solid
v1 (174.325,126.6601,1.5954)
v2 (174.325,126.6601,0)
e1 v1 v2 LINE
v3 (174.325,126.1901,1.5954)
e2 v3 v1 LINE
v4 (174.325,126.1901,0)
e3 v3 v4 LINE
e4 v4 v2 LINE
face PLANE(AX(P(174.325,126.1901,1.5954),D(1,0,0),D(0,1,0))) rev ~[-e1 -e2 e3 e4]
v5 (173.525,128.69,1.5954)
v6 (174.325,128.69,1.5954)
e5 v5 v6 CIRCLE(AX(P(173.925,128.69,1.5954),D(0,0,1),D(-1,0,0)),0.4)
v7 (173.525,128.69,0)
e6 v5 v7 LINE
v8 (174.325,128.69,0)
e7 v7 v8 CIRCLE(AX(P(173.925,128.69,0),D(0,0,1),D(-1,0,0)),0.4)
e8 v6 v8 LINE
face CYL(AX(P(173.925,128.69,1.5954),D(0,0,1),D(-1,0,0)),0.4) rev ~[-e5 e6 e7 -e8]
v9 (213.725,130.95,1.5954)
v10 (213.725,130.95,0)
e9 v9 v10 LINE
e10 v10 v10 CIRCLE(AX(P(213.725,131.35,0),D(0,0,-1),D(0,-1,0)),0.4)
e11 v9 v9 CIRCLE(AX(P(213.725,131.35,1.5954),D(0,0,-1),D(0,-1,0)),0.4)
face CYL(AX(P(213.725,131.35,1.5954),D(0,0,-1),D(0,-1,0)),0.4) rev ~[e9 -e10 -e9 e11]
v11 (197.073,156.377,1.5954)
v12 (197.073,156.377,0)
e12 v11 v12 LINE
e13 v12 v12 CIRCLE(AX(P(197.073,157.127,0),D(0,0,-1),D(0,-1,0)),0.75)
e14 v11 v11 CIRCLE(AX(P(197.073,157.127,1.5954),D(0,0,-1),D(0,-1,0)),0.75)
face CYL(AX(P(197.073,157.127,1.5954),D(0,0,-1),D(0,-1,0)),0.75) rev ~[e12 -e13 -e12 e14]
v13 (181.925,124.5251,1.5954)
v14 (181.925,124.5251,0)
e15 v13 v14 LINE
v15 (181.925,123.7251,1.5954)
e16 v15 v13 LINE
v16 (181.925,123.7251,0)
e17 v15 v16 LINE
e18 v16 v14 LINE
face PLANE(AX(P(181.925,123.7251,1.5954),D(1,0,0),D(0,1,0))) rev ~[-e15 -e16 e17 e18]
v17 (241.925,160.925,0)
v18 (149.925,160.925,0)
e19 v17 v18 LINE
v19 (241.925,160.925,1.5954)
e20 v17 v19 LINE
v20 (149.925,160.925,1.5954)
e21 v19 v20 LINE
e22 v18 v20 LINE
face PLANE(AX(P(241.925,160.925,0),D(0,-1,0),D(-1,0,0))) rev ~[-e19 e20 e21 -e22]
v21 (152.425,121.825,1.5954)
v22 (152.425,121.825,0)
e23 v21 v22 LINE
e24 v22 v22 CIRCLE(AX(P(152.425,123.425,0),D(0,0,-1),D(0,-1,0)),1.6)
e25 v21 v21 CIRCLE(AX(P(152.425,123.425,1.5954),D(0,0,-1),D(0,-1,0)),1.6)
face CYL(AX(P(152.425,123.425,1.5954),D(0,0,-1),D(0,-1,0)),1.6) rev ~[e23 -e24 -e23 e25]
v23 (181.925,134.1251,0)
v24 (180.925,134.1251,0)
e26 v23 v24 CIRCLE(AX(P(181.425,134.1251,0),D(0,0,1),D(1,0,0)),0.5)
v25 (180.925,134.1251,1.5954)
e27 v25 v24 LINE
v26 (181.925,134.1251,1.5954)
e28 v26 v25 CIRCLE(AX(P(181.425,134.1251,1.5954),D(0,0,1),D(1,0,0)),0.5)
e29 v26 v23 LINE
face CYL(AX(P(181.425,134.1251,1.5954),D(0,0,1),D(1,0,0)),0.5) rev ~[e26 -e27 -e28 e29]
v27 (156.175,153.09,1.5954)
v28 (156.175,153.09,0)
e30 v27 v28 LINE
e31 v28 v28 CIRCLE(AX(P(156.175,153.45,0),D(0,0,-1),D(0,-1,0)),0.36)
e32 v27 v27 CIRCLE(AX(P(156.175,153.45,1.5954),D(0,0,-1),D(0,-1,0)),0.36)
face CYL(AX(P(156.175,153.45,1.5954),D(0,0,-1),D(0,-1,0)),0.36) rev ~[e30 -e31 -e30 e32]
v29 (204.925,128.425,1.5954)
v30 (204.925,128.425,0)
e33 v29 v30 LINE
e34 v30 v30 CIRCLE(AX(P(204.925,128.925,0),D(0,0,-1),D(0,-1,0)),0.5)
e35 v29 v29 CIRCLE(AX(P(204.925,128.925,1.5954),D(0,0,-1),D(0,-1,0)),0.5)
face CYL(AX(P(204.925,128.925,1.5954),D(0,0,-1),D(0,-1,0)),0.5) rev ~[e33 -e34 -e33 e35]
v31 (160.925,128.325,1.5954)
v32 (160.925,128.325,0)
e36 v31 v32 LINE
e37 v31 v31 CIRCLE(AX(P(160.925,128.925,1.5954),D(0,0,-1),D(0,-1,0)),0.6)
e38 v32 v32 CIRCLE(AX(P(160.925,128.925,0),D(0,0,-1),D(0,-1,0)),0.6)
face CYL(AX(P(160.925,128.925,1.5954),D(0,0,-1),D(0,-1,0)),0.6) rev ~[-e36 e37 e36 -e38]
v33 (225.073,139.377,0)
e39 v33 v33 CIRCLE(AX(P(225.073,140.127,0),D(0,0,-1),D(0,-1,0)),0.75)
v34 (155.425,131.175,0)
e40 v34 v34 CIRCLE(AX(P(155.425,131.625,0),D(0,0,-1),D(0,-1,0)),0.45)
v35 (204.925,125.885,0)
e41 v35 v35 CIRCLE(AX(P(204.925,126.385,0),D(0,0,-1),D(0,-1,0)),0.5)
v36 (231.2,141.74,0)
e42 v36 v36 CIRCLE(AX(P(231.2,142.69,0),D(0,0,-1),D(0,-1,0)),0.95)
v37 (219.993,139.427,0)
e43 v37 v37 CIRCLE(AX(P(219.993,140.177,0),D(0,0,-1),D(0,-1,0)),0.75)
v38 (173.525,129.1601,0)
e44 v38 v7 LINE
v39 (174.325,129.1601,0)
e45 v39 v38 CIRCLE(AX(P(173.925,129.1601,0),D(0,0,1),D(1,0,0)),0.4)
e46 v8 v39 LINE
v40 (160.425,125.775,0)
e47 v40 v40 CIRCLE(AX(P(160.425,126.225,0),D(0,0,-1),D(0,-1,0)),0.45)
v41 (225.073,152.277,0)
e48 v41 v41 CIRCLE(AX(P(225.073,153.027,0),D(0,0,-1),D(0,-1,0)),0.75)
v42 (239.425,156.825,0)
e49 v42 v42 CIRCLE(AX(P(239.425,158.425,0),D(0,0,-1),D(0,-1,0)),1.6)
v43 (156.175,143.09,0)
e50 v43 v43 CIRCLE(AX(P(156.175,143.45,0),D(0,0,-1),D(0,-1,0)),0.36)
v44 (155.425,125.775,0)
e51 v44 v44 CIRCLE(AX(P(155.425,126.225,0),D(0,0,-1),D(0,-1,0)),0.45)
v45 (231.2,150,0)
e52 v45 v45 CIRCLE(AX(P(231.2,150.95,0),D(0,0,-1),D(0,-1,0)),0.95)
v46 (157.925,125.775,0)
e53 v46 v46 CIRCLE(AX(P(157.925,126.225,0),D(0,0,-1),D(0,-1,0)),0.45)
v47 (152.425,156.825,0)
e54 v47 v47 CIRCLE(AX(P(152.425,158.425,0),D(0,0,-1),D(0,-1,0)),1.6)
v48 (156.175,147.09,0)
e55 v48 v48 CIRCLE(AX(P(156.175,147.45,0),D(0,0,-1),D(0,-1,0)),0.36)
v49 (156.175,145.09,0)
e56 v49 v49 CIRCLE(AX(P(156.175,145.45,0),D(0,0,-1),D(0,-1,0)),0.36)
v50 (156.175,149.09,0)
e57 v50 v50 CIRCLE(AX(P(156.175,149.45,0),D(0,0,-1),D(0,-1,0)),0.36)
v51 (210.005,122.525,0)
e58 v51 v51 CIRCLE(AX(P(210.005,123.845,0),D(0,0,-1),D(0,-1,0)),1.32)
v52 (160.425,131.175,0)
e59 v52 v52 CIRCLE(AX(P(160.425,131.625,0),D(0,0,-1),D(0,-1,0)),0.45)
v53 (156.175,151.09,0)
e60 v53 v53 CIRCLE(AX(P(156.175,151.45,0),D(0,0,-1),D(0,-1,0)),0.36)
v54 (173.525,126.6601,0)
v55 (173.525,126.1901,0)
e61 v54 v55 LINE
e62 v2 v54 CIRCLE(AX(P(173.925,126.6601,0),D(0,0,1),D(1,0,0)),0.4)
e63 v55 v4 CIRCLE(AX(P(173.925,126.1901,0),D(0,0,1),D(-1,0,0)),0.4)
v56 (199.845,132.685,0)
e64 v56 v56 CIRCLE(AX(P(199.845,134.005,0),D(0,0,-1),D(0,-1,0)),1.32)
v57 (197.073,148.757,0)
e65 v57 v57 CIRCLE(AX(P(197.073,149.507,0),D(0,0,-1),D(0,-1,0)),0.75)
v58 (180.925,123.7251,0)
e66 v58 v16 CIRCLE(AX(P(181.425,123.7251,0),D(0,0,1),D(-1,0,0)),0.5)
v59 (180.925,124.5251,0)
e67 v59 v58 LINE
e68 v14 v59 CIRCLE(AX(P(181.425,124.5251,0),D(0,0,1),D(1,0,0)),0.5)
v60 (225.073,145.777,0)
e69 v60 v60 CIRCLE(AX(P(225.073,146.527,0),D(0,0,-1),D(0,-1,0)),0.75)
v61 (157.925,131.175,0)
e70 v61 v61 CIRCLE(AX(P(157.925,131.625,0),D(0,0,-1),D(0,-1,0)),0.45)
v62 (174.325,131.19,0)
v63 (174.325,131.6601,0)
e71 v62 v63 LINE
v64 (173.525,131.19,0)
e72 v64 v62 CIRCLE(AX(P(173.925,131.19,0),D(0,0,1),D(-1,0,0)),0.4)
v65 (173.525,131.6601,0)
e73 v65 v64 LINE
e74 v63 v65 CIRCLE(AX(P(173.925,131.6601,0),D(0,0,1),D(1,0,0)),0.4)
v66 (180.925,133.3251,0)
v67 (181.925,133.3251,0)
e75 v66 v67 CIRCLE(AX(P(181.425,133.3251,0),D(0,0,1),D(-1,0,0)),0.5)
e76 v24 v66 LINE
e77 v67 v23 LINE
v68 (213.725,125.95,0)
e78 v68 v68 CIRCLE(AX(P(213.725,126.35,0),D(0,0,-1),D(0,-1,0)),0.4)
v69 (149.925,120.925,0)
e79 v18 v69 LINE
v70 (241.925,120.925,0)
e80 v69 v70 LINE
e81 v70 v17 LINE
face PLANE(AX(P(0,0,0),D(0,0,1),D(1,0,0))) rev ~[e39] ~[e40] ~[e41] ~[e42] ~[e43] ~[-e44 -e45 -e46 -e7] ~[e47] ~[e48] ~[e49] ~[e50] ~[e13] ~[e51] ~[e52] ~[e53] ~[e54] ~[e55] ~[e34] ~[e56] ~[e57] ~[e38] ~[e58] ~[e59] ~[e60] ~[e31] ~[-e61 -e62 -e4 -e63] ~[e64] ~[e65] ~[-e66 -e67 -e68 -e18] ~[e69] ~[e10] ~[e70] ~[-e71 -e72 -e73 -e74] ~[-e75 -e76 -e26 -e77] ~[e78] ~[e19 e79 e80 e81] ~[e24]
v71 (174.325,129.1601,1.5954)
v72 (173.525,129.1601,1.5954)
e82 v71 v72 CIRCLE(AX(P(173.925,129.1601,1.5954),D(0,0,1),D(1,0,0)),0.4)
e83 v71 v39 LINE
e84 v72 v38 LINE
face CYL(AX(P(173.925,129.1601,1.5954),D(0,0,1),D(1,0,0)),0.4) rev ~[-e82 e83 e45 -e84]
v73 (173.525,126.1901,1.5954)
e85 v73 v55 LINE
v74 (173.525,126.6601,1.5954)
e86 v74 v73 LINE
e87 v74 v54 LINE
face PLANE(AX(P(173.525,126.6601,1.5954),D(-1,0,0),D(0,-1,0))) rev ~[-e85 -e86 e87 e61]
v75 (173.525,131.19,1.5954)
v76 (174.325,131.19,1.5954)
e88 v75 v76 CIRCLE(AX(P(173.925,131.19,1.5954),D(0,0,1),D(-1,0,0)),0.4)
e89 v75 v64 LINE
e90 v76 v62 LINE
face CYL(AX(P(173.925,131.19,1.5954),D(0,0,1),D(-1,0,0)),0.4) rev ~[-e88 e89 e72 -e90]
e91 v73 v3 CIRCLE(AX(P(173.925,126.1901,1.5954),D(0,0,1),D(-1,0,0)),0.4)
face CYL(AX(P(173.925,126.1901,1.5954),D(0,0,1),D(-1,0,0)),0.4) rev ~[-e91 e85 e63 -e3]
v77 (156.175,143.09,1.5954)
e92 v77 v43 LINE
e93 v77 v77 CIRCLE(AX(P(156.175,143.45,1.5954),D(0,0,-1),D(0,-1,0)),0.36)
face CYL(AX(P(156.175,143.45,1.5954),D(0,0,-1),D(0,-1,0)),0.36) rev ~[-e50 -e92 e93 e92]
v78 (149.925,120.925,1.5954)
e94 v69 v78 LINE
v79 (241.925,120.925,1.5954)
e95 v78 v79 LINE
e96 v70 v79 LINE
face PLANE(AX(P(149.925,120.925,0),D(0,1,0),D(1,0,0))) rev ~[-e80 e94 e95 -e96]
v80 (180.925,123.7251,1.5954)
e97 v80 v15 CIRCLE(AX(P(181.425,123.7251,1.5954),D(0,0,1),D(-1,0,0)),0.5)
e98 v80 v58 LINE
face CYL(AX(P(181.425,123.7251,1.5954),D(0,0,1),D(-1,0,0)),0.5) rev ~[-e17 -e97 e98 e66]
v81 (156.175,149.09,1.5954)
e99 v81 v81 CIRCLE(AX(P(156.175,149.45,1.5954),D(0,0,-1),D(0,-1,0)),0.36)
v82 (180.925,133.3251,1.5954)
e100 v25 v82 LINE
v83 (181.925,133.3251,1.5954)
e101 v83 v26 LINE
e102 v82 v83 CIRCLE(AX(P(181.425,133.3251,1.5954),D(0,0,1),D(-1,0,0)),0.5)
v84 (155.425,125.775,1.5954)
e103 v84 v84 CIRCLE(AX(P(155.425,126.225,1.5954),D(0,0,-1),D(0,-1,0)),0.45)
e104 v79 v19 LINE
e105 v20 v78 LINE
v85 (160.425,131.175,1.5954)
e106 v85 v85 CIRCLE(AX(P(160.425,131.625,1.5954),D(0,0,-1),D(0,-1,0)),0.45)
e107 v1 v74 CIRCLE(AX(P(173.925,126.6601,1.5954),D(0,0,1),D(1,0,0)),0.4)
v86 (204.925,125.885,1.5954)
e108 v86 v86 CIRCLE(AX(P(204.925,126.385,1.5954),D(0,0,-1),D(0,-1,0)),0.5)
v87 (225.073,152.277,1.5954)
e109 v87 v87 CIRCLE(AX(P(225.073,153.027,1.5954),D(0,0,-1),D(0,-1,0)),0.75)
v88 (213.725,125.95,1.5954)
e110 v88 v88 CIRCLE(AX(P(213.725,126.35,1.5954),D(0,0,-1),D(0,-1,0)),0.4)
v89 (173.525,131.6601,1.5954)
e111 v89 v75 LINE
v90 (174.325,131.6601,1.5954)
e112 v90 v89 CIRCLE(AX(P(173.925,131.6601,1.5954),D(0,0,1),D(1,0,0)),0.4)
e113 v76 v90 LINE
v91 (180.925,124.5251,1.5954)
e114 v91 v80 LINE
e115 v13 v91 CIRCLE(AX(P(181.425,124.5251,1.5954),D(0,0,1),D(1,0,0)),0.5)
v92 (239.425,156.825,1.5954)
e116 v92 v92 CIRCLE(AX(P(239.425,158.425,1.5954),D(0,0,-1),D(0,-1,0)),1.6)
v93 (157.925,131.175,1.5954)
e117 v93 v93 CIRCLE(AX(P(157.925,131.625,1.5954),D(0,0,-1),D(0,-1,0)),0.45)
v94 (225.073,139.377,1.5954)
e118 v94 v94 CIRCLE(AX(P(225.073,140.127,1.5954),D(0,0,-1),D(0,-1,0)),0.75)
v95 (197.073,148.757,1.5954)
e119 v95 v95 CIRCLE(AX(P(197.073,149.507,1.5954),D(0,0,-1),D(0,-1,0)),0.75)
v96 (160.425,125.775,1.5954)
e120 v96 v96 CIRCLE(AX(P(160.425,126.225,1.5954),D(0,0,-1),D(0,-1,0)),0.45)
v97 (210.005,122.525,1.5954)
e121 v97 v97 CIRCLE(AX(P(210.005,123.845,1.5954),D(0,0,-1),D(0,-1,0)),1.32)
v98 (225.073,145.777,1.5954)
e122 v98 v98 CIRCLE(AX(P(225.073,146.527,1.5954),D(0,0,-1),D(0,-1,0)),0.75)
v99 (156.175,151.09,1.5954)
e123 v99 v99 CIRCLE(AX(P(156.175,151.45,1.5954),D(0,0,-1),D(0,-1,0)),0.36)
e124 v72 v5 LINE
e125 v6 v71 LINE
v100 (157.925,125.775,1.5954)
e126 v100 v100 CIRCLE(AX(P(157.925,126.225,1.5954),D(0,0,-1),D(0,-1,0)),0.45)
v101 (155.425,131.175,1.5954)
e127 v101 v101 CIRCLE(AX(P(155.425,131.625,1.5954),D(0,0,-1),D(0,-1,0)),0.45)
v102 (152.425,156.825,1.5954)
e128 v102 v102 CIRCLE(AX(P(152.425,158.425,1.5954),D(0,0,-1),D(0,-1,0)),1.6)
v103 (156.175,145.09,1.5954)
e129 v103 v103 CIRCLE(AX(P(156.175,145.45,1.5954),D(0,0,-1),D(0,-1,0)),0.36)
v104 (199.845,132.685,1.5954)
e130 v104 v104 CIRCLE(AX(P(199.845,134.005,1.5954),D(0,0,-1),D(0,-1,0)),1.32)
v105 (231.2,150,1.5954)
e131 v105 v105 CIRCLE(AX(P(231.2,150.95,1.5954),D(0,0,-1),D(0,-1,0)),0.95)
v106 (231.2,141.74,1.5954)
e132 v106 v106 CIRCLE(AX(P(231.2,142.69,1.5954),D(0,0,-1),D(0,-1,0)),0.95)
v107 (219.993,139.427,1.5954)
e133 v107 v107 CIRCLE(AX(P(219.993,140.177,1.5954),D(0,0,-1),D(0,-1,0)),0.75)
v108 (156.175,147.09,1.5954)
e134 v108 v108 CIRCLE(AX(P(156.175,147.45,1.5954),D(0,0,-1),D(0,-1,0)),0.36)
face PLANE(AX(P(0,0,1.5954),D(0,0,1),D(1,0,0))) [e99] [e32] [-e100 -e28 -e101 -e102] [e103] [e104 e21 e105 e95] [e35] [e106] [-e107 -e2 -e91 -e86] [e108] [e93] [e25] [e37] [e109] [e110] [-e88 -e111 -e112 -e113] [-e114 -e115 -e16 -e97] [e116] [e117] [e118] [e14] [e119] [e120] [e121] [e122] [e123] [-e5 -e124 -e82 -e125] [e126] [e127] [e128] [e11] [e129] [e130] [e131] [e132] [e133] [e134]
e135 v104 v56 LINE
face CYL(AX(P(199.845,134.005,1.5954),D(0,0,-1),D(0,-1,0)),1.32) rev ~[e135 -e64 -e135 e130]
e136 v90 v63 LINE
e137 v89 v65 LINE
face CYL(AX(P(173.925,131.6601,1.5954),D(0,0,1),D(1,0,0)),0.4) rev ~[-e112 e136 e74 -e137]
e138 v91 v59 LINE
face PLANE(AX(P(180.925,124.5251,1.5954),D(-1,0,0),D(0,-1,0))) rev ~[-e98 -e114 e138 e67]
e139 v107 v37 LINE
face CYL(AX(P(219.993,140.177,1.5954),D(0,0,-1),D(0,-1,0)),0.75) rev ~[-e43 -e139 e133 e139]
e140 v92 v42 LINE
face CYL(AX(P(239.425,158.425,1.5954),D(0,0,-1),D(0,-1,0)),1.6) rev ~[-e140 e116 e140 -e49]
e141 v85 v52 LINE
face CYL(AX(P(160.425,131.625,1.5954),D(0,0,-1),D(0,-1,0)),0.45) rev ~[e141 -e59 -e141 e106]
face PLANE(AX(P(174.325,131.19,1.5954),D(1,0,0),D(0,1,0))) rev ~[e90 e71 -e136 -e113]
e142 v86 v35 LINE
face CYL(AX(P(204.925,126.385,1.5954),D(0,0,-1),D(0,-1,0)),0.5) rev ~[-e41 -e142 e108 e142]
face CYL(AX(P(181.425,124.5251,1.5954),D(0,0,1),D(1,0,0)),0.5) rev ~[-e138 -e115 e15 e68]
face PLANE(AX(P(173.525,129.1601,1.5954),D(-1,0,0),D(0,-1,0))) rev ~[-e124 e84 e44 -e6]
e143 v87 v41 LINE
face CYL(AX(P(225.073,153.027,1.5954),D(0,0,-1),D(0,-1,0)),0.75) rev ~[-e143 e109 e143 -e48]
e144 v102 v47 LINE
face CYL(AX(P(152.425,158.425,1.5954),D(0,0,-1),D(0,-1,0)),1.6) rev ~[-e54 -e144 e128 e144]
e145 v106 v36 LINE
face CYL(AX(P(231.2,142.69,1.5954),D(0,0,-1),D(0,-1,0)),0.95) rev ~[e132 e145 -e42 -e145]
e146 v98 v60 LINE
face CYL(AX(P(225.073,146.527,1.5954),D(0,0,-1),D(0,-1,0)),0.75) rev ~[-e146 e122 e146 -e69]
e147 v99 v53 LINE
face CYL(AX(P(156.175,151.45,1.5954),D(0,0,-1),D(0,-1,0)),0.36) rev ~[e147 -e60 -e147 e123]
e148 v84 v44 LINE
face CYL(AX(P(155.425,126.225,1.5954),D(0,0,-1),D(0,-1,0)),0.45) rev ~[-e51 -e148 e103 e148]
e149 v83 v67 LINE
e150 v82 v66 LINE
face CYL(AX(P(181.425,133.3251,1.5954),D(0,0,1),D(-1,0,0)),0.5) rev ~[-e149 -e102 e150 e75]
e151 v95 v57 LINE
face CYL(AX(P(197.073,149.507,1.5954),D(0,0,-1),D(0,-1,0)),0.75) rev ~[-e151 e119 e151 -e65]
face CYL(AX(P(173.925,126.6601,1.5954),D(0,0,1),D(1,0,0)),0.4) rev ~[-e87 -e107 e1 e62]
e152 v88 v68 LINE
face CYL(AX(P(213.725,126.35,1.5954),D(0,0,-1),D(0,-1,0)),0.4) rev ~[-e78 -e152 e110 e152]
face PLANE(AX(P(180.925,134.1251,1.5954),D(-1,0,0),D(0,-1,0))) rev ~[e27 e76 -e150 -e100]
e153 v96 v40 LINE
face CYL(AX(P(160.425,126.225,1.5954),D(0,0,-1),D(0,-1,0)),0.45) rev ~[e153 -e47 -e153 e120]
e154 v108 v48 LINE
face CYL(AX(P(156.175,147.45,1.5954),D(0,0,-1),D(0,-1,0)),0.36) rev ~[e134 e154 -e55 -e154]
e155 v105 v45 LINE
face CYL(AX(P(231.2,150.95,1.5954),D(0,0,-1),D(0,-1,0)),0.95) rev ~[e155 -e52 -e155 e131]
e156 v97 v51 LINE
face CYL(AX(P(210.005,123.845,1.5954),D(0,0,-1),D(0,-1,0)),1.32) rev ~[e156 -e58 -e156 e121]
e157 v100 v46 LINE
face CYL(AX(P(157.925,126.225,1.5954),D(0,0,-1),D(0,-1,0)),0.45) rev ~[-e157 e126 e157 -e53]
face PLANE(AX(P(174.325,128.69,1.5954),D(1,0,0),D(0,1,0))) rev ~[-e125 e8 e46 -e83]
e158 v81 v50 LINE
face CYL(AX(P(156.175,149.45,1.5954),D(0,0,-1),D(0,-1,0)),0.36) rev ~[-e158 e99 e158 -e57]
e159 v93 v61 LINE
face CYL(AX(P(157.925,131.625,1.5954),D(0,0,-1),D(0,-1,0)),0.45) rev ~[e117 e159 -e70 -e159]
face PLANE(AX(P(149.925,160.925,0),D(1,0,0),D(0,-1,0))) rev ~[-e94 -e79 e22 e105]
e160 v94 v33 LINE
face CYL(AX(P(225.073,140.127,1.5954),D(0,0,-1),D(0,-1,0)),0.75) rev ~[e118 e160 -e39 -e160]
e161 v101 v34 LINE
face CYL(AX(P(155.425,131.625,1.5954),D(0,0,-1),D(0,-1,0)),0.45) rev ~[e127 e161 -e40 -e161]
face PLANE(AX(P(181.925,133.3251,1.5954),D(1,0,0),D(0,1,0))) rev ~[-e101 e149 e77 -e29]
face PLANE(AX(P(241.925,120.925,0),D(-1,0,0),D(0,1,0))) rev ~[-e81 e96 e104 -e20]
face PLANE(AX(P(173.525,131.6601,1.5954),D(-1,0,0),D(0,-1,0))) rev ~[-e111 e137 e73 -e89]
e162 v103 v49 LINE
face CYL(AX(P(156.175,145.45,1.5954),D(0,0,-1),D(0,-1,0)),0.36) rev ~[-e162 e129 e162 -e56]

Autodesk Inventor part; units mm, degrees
ref_plane "YZ Plane" through (0, 0, 0) normal (1, 0, 0) x (0, 1, 0)
ref_plane "XZ Plane" through (0, 0, 0) normal (0, 1, 0) x (-1, 0, 0)
ref_plane "BoardFrontPlane" through (0, 0, 0) normal (0, 0, 1) x (1, 0, 0)
sketch "Sketch1" plane through (0, 0, 0) normal (0, 0, 1) x (1, 0, 0)
  line L0 (149.925, 120.925) -> (241.925, 120.925)
  line L1 (241.925, 120.925) -> (241.925, 160.925)
  line L2 (241.925, 160.925) -> (149.925, 160.925)
  line L3 (149.925, 160.925) -> (149.925, 120.925)
extrude "BoardOutline" add sketch "Sketch1" along normal blind 1.5954
sketch "Sketch4" plane through (0, 0, 1.5954) normal (0, 0, 1) x (1, 0, 0)
  point P0 (219.993, 140.177)
hole "U1-1" at (219.993, 140.177, 1.5954) direction (0, 0, -1) diameter 1.5 end through all
sketch "Sketch5" plane through (0, 0, 1.5954) normal (0, 0, 1) x (1, 0, 0)
  point P0 (225.073, 153.027)
hole "U1-4" at (225.073, 153.027, 1.5954) direction (0, 0, -1) diameter 1.5 end through all
sketch "Sketch6" plane through (0, 0, 1.5954) normal (0, 0, 1) x (1, 0, 0)
  point P0 (225.073, 146.527)
hole "U1-3" at (225.073, 146.527, 1.5954) direction (0, 0, -1) diameter 1.5 end through all
sketch "Sketch7" plane through (0, 0, 1.5954) normal (0, 0, 1) x (1, 0, 0)
  point P0 (197.073, 157.127)
hole "U1-5" at (197.073, 157.127, 1.5954) direction (0, 0, -1) diameter 1.5 end through all
sketch "Sketch8" plane through (0, 0, 1.5954) normal (0, 0, 1) x (1, 0, 0)
  point P0 (197.073, 149.507)
hole "U1-6" at (197.073, 149.507, 1.5954) direction (0, 0, -1) diameter 1.5 end through all
sketch "Sketch9" plane through (0, 0, 1.5954) normal (0, 0, 1) x (1, 0, 0)
  point P0 (225.073, 140.127)
hole "U1-2" at (225.073, 140.127, 1.5954) direction (0, 0, -1) diameter 1.5 end through all
sketch "Sketch10" plane through (0, 0, 1.5954) normal (0, 0, 1) x (1, 0, 0)
  point P0 (155.425, 126.225)
hole "SW1-1" at (155.425, 126.225, 1.5954) direction (0, 0, -1) diameter 0.9 end through all
sketch "Sketch11" plane through (0, 0, 1.5954) normal (0, 0, 1) x (1, 0, 0)
  point P0 (157.925, 126.225)
hole "SW1-2" at (157.925, 126.225, 1.5954) direction (0, 0, -1) diameter 0.9 end through all
sketch "Sketch12" plane through (0, 0, 1.5954) normal (0, 0, 1) x (1, 0, 0)
  point P0 (160.425, 126.225)
hole "SW1-3" at (160.425, 126.225, 1.5954) direction (0, 0, -1) diameter 0.9 end through all
sketch "Sketch13" plane through (0, 0, 1.5954) normal (0, 0, 1) x (1, 0, 0)
  point P0 (157.925, 131.625)
hole "SW1-5" at (157.925, 131.625, 1.5954) direction (0, 0, -1) diameter 0.9 end through all
sketch "Sketch14" plane through (0, 0, 1.5954) normal (0, 0, 1) x (1, 0, 0)
  point P0 (160.425, 131.625)
hole "SW1-6" at (160.425, 131.625, 1.5954) direction (0, 0, -1) diameter 0.9 end through all
sketch "Sketch15" plane through (0, 0, 1.5954) normal (0, 0, 1) x (1, 0, 0)
  point P0 (155.425, 131.625)
hole "SW1-4" at (155.425, 131.625, 1.5954) direction (0, 0, -1) diameter 0.9 end through all
sketch "Sketch16" plane through (0, 0, 1.5954) normal (0, 0, 1) x (1, 0, 0)
  point P0 (160.925, 128.925)
hole "SW1-0" at (160.925, 128.925, 1.5954) direction (0, 0, -1) diameter 1.2 end through all
sketch "Sketch22" plane through (0, 0, 1.5954) normal (0, 0, 1) x (1, 0, 0)
  point P0 (156.175, 143.45)
hole "CN2-1" at (156.175, 143.45, 1.5954) direction (0, 0, -1) diameter 0.72 end through all
sketch "Sketch23" plane through (0, 0, 1.5954) normal (0, 0, 1) x (1, 0, 0)
  point P0 (156.175, 149.45)
hole "CN2-4" at (156.175, 149.45, 1.5954) direction (0, 0, -1) diameter 0.72 end through all
sketch "Sketch24" plane through (0, 0, 1.5954) normal (0, 0, 1) x (1, 0, 0)
  point P0 (156.175, 145.45)
hole "CN2-2" at (156.175, 145.45, 1.5954) direction (0, 0, -1) diameter 0.72 end through all
sketch "Sketch25" plane through (0, 0, 1.5954) normal (0, 0, 1) x (1, 0, 0)
  point P0 (156.175, 151.45)
hole "CN2-5" at (156.175, 151.45, 1.5954) direction (0, 0, -1) diameter 0.72 end through all
sketch "Sketch26" plane through (0, 0, 1.5954) normal (0, 0, 1) x (1, 0, 0)
  point P0 (156.175, 147.45)
hole "CN2-3" at (156.175, 147.45, 1.5954) direction (0, 0, -1) diameter 0.72 end through all
sketch "Sketch27" plane through (0, 0, 1.5954) normal (0, 0, 1) x (1, 0, 0)
  point P0 (156.175, 153.45)
hole "CN2-6" at (156.175, 153.45, 1.5954) direction (0, 0, -1) diameter 0.72 end through all
sketch "Sketch28" plane through (0, 0, 1.5954) normal (0, 0, 1) x (1, 0, 0)
  point P0 (231.2, 150.95)
hole "CN1-1" at (231.2, 150.95, 1.5954) direction (0, 0, -1) diameter 1.9 end through all
sketch "Sketch29" plane through (0, 0, 1.5954) normal (0, 0, 1) x (1, 0, 0)
  point P0 (231.2, 142.69)
hole "CN1-2" at (231.2, 142.69, 1.5954) direction (0, 0, -1) diameter 1.9 end through all
sketch "Sketch30" plane through (0, 0, 1.5954) normal (0, 0, 1) x (1, 0, 0)
  point P0 (213.725, 126.35)
hole "C2-1" at (213.725, 126.35, 1.5954) direction (0, 0, -1) diameter 0.8 end through all
sketch "Sketch31" plane through (0, 0, 1.5954) normal (0, 0, 1) x (1, 0, 0)
  point P0 (213.725, 131.35)
hole "C2-2" at (213.725, 131.35, 1.5954) direction (0, 0, -1) diameter 0.8 end through all
sketch "Sketch32" plane through (0, 0, 1.5954) normal (0, 0, 1) x (1, 0, 0)
  point P0 (204.925, 128.925)
hole "CN3-1" at (204.925, 128.925, 1.5954) direction (0, 0, -1) diameter 1 end through all
sketch "Sketch33" plane through (0, 0, 1.5954) normal (0, 0, 1) x (1, 0, 0)
  point P0 (199.845, 134.005)
hole "CN3-2_KIXDPQYP" at (199.845, 134.005, 1.5954) direction (0, 0, -1) diameter 2.64 end through all
sketch "Sketch34" plane through (0, 0, 1.5954) normal (0, 0, 1) x (1, 0, 0)
  point P0 (210.005, 123.845)
hole "CN3-2_CBVBVUTG" at (210.005, 123.845, 1.5954) direction (0, 0, -1) diameter 2.64 end through all
sketch "Sketch35" plane through (0, 0, 1.5954) normal (0, 0, 1) x (1, 0, 0)
  point P0 (204.925, 126.385)
hole "CN3-2_RGICKRHG" at (204.925, 126.385, 1.5954) direction (0, 0, -1) diameter 1 end through all
sketch "Sketch36" plane through (0, 0, 1.5954) normal (0, 0, 1) x (1, 0, 0)
  point P0 (239.425, 158.425)
hole "Free-0_VQVYAAFI" at (239.425, 158.425, 1.5954) direction (0, 0, -1) diameter 3.2 end through all
sketch "Sketch37" plane through (0, 0, 1.5954) normal (0, 0, 1) x (1, 0, 0)
  point P0 (152.425, 123.425)
hole "Free-0_TSXFHYQJ" at (152.425, 123.425, 1.5954) direction (0, 0, -1) diameter 3.2 end through all
sketch "Sketch38" plane through (0, 0, 1.5954) normal (0, 0, 1) x (1, 0, 0)
  point P0 (152.425, 158.425)
hole "Free-0_JLGAYVLC" at (152.425, 158.425, 1.5954) direction (0, 0, -1) diameter 3.2 end through all
sketch "Sketch54" plane through (0, 0, 1.5954) normal (0, 0, 1) x (1, 0, 0)
  line L0 (181.425, 133.3251) -> (181.425, 134.1251) construction
  line L1 (181.925, 133.3251) -> (181.925, 134.1251)
  line L2 (180.925, 134.1251) -> (180.925, 133.3251)
  arc A0 (180.925, 133.3251) -> (181.925, 133.3251) centre (181.425, 133.3251) ccw
  arc A1 (181.925, 134.1251) -> (180.925, 134.1251) centre (181.425, 134.1251) ccw
  point P0 (181.425, 133.7251)
extrude "R3-0_UKQXETQG" cut sketch "Sketch54" against normal through all
sketch "Sketch55" plane through (0, 0, 1.5954) normal (0, 0, 1) x (1, 0, 0)
  line L0 (181.425, 123.7251) -> (181.425, 124.5251) construction
  line L1 (181.925, 123.7251) -> (181.925, 124.5251)
  line L2 (180.925, 124.5251) -> (180.925, 123.7251)
  arc A0 (180.925, 123.7251) -> (181.925, 123.7251) centre (181.425, 123.7251) ccw
  arc A1 (181.925, 124.5251) -> (180.925, 124.5251) centre (181.425, 124.5251) ccw
  point P0 (181.425, 124.1251)
extrude "R3-0_WDTRLAVX" cut sketch "Sketch55" against normal through all
sketch "Sketch56" plane through (0, 0, 1.5954) normal (0, 0, 1) x (1, 0, 0)
  line L0 (173.925, 131.19) -> (173.925, 131.6601) construction
  line L1 (174.325, 131.19) -> (174.325, 131.6601)
  line L2 (173.525, 131.6601) -> (173.525, 131.19)
  arc A0 (173.525, 131.19) -> (174.325, 131.19) centre (173.925, 131.19) ccw
  arc A1 (174.325, 131.6601) -> (173.525, 131.6601) centre (173.925, 131.6601) ccw
  point P0 (173.925, 131.425)
extrude "R3-1" cut sketch "Sketch56" against normal through all
sketch "Sketch57" plane through (0, 0, 1.5954) normal (0, 0, 1) x (1, 0, 0)
  line L0 (173.925, 126.1901) -> (173.925, 126.6601) construction
  line L1 (174.325, 126.1901) -> (174.325, 126.6601)
  line L2 (173.525, 126.6601) -> (173.525, 126.1901)
  arc A0 (173.525, 126.1901) -> (174.325, 126.1901) centre (173.925, 126.1901) ccw
  arc A1 (174.325, 126.6601) -> (173.525, 126.6601) centre (173.925, 126.6601) ccw
  point P0 (173.925, 126.4251)
extrude "R3-3" cut sketch "Sketch57" against normal through all
sketch "Sketch58" plane through (0, 0, 1.5954) normal (0, 0, 1) x (1, 0, 0)
  line L0 (173.925, 128.69) -> (173.925, 129.1601) construction
  line L1 (174.325, 128.69) -> (174.325, 129.1601)
  line L2 (173.525, 129.1601) -> (173.525, 128.69)
  arc A0 (173.525, 128.69) -> (174.325, 128.69) centre (173.925, 128.69) ccw
  arc A1 (174.325, 129.1601) -> (173.525, 129.1601) centre (173.925, 129.1601) ccw
  point P0 (173.925, 128.925)
extrude "R3-2" cut sketch "Sketch58" against normal through all
sketch "img_Top" plane through (0, 0, 1.5954) normal (0, 0, 1) x (1, 0, 0)
  line L0 (149.925, 160.925) -> (241.925, 160.925) construction
  line L1 (241.925, 160.925) -> (241.925, 120.9195) construction
  line L2 (241.925, 120.9195) -> (149.925, 120.9195) construction
  line L3 (149.925, 120.9195) -> (149.925, 160.925) construction
decal "Decal_Top"
sketch "img_Bottom" plane through (0, 0, -1.5954) normal (0, 0, -1) x (1, 0, 0)
  line L0 (149.925, -120.925) -> (241.925, -120.925) construction
  line L1 (241.925, -120.925) -> (241.925, -160.9305) construction
  line L2 (241.925, -160.9305) -> (149.925, -160.9305) construction
  line L3 (149.925, -160.9305) -> (149.925, -120.925) construction
decal "Decal_Bottom"
properties part number "Monitor_Blanking_V3_BOARD"
